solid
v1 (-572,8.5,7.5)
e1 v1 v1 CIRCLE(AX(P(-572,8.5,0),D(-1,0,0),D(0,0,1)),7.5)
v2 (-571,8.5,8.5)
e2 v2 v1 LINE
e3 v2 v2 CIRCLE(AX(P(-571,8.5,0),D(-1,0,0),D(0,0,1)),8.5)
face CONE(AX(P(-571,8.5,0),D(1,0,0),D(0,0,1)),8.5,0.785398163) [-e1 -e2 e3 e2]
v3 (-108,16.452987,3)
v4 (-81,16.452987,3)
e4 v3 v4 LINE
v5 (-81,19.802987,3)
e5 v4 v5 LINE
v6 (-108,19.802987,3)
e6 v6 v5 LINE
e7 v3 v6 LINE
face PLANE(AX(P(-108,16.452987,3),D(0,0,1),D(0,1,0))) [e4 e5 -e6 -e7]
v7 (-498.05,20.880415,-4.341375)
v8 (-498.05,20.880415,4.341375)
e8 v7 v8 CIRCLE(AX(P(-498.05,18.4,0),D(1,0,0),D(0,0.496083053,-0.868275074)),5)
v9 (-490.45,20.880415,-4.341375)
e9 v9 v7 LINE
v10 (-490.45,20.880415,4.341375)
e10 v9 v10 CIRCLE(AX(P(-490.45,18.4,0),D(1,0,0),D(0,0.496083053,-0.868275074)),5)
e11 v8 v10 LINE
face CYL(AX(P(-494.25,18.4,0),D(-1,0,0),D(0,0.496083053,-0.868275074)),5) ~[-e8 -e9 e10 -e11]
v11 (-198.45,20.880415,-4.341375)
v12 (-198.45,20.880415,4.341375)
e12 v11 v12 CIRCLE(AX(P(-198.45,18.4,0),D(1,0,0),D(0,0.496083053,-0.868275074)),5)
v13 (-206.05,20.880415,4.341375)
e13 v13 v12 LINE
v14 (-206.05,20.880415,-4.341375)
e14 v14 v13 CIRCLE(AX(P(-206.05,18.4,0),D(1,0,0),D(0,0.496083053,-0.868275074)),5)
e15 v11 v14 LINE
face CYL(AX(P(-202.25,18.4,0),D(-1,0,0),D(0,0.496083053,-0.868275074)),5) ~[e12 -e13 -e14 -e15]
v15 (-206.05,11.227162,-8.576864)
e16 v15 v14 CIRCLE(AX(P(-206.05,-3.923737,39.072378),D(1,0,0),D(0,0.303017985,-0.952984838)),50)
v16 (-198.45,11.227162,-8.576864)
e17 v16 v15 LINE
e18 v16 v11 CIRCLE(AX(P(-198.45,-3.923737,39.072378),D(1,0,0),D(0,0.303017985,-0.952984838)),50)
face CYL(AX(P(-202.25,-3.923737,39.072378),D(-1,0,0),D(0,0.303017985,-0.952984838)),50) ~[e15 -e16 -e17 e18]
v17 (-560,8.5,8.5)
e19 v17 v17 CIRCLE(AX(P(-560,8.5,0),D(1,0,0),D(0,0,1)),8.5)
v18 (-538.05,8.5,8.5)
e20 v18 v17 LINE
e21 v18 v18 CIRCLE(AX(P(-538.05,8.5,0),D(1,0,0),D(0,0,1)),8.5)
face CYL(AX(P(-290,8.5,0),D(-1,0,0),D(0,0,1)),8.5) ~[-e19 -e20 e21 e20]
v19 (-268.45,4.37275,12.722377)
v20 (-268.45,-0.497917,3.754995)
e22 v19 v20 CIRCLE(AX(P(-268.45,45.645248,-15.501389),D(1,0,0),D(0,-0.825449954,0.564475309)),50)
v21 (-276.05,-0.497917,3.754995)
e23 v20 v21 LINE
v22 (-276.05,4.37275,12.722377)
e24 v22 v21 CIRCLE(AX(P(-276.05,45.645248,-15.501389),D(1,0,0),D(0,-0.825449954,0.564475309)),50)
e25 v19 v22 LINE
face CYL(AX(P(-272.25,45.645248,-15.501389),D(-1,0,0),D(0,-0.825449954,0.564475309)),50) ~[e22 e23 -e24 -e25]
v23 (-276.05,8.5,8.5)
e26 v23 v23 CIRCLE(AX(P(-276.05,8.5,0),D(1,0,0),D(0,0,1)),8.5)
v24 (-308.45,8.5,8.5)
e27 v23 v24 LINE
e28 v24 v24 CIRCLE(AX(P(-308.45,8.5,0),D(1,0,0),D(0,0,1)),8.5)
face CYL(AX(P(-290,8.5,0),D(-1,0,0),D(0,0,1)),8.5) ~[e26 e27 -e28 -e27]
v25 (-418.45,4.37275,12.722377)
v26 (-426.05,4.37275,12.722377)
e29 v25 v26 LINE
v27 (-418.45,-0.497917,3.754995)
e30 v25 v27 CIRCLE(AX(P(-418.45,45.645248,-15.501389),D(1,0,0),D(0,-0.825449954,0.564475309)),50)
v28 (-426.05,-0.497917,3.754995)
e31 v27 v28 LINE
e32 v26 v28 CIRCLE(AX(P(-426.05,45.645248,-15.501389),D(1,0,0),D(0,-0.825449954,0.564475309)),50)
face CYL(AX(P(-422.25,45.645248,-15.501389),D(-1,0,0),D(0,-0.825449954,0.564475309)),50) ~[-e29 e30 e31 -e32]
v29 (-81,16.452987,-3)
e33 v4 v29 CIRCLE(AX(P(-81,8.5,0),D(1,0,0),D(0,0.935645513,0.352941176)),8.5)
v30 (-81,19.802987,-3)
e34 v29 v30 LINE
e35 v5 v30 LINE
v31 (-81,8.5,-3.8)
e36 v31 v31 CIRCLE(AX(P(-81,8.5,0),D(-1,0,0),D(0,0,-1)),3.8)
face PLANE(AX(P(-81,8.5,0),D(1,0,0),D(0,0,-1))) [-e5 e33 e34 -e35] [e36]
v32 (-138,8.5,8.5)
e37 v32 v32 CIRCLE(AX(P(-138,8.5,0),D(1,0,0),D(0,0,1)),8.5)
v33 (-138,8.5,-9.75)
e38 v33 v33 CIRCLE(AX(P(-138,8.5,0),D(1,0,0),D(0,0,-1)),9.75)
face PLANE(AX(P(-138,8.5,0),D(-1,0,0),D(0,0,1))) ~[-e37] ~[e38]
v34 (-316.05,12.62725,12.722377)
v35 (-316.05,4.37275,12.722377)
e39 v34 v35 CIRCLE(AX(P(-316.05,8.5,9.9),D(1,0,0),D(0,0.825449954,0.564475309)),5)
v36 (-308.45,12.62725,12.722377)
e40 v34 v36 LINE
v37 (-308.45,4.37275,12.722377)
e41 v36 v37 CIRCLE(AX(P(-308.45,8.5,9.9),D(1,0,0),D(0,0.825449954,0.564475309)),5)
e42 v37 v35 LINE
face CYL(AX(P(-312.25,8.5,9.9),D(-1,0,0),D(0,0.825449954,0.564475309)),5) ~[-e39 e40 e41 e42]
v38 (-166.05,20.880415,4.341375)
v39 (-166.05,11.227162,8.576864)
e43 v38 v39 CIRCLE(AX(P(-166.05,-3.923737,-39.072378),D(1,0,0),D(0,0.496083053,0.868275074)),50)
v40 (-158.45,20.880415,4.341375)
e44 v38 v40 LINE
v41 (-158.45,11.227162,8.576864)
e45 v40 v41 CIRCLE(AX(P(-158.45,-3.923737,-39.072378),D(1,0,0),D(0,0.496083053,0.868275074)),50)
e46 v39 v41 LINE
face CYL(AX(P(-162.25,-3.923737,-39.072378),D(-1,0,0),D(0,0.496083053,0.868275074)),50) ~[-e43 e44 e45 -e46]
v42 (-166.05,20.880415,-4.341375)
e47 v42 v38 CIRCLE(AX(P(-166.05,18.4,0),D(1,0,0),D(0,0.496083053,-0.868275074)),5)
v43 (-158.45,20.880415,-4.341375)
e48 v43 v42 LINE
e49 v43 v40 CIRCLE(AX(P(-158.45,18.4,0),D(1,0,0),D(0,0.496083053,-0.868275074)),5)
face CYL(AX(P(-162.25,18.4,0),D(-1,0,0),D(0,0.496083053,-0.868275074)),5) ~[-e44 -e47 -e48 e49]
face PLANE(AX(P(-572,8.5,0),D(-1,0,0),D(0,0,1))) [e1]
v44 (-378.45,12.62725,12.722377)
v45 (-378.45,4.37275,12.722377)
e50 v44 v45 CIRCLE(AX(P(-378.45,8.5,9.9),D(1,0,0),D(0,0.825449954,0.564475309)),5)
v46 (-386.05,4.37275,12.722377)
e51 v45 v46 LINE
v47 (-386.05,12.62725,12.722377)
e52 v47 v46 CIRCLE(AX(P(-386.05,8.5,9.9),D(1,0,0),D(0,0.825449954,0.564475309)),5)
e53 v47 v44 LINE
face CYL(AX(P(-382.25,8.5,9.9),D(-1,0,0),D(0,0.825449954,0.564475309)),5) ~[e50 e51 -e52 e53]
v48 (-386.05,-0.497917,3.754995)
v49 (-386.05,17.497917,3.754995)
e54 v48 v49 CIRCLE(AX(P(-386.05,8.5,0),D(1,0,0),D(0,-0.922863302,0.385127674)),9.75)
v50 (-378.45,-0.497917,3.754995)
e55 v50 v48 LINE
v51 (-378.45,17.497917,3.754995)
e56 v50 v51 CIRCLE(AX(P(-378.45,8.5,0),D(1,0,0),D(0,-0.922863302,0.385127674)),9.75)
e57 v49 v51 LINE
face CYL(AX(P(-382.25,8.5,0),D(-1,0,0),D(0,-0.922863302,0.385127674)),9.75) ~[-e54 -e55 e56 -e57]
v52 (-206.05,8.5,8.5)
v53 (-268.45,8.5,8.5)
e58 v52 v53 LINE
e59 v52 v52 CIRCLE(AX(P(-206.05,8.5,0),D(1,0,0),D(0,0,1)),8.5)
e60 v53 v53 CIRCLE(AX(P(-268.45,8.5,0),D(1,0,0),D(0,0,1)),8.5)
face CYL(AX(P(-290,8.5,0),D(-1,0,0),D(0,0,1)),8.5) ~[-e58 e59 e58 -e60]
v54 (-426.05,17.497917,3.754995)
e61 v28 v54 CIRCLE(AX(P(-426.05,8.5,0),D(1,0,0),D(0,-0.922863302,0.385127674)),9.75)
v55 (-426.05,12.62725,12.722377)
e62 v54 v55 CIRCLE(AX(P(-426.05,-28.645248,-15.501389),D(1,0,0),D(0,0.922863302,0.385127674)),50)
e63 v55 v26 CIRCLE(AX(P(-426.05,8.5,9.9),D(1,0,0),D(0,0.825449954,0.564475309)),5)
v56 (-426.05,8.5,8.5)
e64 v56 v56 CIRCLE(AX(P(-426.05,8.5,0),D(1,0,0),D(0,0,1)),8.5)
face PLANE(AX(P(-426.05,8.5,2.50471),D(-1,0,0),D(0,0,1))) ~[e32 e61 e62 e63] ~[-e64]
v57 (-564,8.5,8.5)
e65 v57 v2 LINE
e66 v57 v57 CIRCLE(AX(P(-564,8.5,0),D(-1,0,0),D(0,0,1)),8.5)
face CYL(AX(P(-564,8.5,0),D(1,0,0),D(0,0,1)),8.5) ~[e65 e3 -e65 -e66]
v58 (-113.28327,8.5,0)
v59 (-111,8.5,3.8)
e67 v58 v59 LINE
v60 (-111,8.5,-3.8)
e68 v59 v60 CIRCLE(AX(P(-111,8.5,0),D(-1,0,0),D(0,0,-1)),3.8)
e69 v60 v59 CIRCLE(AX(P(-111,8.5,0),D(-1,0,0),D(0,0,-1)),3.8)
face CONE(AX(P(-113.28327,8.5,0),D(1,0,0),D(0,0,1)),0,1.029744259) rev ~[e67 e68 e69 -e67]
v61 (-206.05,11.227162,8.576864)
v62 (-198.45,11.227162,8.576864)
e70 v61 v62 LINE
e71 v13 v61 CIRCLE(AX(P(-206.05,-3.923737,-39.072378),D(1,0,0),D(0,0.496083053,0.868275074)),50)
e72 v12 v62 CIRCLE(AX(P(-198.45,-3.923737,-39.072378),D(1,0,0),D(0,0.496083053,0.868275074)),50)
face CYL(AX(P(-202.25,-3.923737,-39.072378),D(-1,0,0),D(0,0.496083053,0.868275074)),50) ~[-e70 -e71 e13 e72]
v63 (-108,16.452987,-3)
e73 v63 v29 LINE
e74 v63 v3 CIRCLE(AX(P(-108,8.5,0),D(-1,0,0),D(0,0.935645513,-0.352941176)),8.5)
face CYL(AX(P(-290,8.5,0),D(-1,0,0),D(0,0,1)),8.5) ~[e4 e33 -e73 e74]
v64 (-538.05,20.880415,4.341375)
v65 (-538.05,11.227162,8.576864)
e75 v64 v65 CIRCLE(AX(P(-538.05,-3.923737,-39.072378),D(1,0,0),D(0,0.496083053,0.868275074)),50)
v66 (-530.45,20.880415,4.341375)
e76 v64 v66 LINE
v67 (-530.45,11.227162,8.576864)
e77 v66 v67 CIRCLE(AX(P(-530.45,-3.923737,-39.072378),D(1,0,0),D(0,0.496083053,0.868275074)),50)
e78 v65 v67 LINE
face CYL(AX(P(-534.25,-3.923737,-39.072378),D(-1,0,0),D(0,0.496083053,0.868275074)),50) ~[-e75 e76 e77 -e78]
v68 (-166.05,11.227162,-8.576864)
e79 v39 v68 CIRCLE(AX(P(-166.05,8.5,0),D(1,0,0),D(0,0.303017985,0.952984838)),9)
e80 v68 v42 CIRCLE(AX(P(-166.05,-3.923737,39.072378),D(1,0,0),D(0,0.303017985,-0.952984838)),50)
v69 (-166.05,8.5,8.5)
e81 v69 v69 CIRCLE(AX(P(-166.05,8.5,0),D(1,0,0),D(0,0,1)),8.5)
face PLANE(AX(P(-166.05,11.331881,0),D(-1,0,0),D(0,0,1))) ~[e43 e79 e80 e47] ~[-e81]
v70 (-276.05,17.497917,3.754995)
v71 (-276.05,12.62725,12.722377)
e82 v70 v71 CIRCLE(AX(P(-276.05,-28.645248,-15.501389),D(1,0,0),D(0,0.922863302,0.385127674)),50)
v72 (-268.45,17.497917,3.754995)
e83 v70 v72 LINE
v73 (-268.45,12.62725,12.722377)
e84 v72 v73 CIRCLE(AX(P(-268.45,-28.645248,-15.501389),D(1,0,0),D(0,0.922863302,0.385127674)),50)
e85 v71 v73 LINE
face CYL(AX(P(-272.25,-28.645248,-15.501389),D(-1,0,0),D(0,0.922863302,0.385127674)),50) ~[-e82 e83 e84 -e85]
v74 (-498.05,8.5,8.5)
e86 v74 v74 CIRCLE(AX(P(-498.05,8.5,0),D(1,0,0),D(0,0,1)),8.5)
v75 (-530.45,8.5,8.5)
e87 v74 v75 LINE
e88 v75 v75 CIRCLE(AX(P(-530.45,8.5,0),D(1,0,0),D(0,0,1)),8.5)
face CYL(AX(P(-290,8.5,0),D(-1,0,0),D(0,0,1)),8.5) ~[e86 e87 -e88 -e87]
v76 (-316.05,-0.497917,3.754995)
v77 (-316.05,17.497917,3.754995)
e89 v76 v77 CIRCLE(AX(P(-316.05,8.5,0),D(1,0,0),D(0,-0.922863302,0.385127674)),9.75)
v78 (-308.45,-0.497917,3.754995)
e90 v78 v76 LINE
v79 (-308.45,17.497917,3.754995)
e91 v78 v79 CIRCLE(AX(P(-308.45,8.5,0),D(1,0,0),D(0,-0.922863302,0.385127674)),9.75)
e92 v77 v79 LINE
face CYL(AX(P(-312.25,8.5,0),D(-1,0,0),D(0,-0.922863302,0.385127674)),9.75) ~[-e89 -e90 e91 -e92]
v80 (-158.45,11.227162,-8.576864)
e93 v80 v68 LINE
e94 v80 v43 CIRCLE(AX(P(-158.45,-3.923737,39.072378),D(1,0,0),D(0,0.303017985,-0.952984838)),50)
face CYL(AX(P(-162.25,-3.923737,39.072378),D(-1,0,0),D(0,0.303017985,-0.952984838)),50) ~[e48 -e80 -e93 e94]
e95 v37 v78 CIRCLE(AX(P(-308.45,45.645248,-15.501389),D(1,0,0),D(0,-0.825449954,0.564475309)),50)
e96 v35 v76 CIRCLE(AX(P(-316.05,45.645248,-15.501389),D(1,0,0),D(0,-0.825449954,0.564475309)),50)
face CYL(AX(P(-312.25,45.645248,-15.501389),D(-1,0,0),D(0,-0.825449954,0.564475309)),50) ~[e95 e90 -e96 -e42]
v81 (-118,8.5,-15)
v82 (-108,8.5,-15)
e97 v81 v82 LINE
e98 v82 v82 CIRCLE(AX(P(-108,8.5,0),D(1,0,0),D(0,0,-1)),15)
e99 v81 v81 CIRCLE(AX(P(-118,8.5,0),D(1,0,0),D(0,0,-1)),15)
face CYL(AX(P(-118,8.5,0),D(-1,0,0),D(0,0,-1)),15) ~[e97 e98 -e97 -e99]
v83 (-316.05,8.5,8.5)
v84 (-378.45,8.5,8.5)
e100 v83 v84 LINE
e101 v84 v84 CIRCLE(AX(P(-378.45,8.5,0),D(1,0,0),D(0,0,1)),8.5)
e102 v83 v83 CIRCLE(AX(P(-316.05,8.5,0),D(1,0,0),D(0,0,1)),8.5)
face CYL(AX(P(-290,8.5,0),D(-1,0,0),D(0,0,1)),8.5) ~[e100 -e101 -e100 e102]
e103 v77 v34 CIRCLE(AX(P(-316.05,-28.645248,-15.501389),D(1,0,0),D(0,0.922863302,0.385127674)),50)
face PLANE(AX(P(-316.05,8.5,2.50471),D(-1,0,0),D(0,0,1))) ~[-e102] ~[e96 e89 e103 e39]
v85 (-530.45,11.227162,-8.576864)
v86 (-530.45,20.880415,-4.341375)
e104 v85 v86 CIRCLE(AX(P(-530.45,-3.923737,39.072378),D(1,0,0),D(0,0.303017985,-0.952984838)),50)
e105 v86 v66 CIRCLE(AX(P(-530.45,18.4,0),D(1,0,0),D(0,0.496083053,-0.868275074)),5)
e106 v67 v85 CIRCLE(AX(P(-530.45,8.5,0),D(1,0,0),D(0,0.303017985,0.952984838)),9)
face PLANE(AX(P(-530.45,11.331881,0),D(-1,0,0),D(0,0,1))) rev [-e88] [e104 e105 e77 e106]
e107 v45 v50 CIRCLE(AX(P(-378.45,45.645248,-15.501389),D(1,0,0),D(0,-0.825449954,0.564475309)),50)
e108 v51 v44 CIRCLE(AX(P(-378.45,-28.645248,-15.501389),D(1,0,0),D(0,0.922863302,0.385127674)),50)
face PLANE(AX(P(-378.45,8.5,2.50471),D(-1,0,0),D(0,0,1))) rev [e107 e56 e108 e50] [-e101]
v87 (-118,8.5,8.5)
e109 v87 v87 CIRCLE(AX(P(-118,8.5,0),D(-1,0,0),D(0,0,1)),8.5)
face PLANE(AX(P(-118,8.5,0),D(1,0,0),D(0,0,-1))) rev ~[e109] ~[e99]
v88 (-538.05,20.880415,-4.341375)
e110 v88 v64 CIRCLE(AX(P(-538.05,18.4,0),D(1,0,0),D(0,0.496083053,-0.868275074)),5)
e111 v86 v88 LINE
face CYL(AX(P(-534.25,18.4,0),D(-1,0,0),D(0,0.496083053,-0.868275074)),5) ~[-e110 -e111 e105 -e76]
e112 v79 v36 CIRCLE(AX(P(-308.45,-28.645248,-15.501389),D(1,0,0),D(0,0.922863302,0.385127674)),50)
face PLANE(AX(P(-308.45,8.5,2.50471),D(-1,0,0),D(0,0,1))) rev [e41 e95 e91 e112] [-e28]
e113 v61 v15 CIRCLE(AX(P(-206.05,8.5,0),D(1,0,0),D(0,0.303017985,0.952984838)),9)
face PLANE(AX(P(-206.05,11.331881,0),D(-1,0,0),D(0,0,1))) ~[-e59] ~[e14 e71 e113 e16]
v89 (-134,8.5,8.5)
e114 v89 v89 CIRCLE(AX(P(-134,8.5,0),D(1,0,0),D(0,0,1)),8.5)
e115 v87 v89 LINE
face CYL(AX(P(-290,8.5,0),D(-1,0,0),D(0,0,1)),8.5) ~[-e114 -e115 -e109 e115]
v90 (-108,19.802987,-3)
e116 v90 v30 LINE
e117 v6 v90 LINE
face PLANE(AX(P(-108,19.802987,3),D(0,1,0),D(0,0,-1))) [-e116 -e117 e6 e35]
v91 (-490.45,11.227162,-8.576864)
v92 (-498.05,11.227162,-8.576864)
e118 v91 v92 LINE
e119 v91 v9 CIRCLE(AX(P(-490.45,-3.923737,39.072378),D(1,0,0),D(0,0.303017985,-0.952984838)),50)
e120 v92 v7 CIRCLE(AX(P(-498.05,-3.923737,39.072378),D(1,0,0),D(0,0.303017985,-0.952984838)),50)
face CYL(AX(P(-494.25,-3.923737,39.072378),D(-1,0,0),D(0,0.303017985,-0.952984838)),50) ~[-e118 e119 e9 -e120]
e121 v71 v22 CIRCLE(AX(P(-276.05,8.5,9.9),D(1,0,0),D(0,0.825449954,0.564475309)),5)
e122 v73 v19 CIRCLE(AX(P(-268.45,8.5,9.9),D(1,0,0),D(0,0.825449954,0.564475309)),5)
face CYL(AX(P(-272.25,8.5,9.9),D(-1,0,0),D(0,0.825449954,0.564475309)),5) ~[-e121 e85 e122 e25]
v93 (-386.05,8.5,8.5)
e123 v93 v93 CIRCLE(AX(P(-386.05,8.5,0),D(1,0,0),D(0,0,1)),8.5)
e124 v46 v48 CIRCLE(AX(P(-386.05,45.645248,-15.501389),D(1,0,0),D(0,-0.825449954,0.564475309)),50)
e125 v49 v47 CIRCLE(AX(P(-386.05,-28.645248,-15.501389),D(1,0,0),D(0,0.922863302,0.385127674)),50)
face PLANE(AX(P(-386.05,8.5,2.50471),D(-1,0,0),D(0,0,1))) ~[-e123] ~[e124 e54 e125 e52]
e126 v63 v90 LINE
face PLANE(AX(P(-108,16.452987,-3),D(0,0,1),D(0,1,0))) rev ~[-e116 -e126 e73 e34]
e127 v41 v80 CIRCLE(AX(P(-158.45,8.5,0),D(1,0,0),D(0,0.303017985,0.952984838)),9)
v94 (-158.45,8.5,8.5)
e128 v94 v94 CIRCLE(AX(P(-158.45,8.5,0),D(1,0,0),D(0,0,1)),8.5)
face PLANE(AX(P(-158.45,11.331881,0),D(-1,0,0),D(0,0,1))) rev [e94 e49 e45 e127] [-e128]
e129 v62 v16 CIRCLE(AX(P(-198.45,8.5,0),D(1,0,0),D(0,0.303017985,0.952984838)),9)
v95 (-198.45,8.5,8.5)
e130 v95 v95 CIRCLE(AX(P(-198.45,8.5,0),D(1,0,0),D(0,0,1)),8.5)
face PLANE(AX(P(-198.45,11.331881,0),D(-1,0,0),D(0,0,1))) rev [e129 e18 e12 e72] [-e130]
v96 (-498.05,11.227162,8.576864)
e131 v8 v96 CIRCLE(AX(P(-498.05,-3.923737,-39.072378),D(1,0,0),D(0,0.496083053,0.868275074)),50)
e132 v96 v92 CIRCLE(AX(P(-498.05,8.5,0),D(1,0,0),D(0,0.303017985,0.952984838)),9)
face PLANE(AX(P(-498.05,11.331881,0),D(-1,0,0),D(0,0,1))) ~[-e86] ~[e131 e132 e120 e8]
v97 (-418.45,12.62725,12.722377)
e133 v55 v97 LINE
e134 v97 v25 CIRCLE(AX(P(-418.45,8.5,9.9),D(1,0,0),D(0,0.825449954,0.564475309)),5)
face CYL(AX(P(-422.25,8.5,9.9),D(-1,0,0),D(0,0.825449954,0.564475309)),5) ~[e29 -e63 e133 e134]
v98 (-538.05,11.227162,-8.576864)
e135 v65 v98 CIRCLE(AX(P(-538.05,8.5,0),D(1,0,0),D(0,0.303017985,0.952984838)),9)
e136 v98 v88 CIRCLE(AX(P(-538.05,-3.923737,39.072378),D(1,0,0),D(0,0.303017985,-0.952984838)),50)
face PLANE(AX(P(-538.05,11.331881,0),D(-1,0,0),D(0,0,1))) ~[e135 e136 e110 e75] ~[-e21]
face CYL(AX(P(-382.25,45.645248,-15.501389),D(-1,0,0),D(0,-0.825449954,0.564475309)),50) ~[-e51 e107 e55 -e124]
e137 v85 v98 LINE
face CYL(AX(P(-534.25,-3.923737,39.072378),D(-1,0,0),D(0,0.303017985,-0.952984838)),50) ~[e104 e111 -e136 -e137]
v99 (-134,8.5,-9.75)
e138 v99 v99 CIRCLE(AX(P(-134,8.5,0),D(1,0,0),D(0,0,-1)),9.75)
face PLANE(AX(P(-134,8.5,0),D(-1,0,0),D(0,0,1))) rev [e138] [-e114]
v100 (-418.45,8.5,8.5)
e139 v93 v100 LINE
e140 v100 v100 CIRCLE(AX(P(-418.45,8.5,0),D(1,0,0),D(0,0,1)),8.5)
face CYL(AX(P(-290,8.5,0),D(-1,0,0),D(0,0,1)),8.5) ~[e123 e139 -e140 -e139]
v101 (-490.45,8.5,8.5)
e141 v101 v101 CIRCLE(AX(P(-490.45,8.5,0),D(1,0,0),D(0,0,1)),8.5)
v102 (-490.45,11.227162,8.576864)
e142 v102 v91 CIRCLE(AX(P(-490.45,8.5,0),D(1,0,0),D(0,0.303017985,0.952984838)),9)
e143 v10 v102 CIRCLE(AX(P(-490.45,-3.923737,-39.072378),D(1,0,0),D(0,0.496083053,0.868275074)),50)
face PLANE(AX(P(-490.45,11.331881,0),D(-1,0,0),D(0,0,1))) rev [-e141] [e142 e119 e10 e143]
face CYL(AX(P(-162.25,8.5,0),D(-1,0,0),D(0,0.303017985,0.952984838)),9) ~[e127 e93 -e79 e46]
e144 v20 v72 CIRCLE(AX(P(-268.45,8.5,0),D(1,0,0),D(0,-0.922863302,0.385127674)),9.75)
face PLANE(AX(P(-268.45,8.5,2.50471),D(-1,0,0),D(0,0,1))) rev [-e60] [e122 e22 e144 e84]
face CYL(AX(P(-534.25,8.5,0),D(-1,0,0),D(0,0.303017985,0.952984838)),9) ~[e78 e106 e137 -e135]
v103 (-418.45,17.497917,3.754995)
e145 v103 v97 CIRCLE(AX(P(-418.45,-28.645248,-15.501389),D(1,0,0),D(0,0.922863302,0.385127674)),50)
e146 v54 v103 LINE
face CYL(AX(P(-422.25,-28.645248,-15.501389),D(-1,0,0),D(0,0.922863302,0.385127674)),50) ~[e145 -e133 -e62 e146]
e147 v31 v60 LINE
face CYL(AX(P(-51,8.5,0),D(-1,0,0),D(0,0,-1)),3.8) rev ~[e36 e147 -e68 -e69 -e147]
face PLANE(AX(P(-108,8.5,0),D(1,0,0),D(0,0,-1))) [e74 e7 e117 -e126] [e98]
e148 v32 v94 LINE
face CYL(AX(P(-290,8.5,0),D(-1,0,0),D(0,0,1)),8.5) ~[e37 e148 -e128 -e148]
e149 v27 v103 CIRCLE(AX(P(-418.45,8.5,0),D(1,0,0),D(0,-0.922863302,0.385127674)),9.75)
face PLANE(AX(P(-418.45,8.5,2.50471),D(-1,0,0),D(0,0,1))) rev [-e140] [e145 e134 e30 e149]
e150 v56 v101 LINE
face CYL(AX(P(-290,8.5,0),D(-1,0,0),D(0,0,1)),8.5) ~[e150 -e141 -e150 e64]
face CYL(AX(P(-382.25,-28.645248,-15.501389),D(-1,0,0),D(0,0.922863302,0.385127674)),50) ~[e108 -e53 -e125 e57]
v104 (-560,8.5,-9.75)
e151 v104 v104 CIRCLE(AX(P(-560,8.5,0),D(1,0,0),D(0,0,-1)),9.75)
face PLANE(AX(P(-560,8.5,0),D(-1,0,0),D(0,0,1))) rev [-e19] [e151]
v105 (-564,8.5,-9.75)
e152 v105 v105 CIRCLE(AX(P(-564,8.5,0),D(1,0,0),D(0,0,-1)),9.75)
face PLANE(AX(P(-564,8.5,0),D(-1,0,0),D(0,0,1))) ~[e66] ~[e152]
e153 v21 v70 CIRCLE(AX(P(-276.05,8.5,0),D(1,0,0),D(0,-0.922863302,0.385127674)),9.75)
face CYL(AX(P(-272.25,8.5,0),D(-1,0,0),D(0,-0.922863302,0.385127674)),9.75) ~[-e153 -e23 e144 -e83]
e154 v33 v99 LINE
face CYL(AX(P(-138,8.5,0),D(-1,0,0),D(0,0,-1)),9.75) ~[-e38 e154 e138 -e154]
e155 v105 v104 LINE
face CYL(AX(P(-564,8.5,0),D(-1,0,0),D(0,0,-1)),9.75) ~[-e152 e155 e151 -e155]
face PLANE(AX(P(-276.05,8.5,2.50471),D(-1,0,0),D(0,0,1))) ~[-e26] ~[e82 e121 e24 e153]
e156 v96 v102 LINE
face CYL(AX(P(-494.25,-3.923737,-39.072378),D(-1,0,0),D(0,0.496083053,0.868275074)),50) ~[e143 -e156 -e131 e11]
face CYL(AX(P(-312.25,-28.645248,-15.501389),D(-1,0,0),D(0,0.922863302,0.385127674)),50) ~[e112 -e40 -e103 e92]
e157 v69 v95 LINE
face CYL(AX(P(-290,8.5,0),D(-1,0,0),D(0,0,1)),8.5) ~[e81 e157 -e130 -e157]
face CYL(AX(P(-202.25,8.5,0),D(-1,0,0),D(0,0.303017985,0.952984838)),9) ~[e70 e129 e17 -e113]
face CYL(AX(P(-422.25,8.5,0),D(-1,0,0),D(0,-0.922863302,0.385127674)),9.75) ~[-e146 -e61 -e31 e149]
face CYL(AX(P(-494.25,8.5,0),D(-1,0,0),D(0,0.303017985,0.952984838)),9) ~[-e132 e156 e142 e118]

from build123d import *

# Parameters (mm, degrees)
CROQUIS1_W                       = 580
CROQUIS1_H                       = 8.5
CROQUIS4_R                       = 9.75
SALIENTE_EXTRUIR1_DEPTH          = 4
MATRIZL1_COUNT                   = 2
MATRIZL1_PITCH                   = 442
SALIENTE_EXTRUIR3_DEPTH          = 3.8
MATRIZL2_COUNT                   = 2
MATRIZL2_PITCH                   = 40
MATRIZL3_COUNT                   = 2
MATRIZL3_PITCH                   = 332
MATRIZL3_COPY_1_DEPTH            = 3.8
CROQUIS6_R                       = 8.5
SALIENTE_EXTRUIR4_DEPTH          = 3.8
MATRIZL4_COUNT                   = 2
MATRIZL4_PITCH                   = 40
MATRIZL5_COUNT                   = 2
MATRIZL5_PITCH                   = 110
MATRIZL5_COPY_1_SKETCH_R         = 8.5
MATRIZL5_COPY_1_DEPTH            = 3.8
CROQUIS8_R                       = 10
CORTAR_EXTRUIR1_DEPTH            = 36
CROQUIS9_R                       = 9.75
SALIENTE_EXTRUIR5_DEPTH          = 4
CROQUIS10_R                      = 8.5
SALIENTE_EXTRUIR6_DEPTH          = 8
CHAFL_N1_SIZE                    = 1
SALIENTE_EXTRUIR7_DEPTH          = 5
SALIENTE_EXTRUIR7_DEPTH_BACK     = 5
CROQUIS12_R                      = 15
CROQUIS13_W                      = 6
CROQUIS13_H                      = 3.35
SALIENTE_EXTRUIR8_DEPTH          = 40
CORTAR_EXTRUIR2_START            = -81
CROQUIS15_R                      = 35.701734295
CORTAR_EXTRUIR2_DEPTH            = 81
TALADRO_DE_MARGEN_PARA_M71_D     = 7.6
TALADRO_DE_MARGEN_PARA_M71_DEPTH = 30
TALADRO_DE_MARGEN_PARA_M71_TIP   = 2.283270352


with BuildPart() as part:
    # Croquis1 → Revolución1 (revolve)
    with BuildSketch(Plane.XY, mode=Mode.PRIVATE) as revoluci_n1_sk:
        with Locations((290, 4.25)):
            Rectangle(CROQUIS1_W, CROQUIS1_H)
    revolve(revoluci_n1_sk.sketch.rotate(Axis((0, 8.5, 0), (1, 0, 0)), 270), axis=Axis((0, 8.5, 0), (1, 0, 0)))

    # Croquis4 → Saliente-Extruir1 (add)
    with BuildSketch(Plane(origin=(580, 0, 0), x_dir=(0, 0, -1), z_dir=(1, 0, 0))):
        with Locations((0, 8.5)):
            Circle(CROQUIS4_R)
    saliente_extruir1 = extrude(amount=-SALIENTE_EXTRUIR1_DEPTH)

    # MatrizL1: Saliente-Extruir1 ×2
    with Locations(*[(-i * MATRIZL1_PITCH, 0, 0) for i in range(1, MATRIZL1_COUNT)]):
        add(saliente_extruir1)

    # Croquis5 → Saliente-Extruir3 (add, symmetric)
    with BuildSketch(Plane(origin=(162.25, 0, 0), x_dir=(0, 0, -1), z_dir=(1, 0, 0))):
        with BuildLine():
            ThreePointArc((-8.57686354, 11.227161863), (0, -0.5), (8.57686354, 11.227161863))
            ThreePointArc((8.57686354, 11.227161863), (6.71423124, 16.165722115), (4.341375372, 20.880415264))
            ThreePointArc((4.341375372, 20.880415264), (0, 23.4), (-4.341375372, 20.880415264))
            ThreePointArc((-4.341375372, 20.880415264), (-6.71423124, 16.165722115), (-8.57686354, 11.227161863))
        make_face()
    saliente_extruir3 = extrude(amount=SALIENTE_EXTRUIR3_DEPTH, both=True)

    # MatrizL2: Saliente-Extruir3 ×2
    with Locations(*[(i * MATRIZL2_PITCH, 0, 0) for i in range(1, MATRIZL2_COUNT)]):
        add(saliente_extruir3)

    # MatrizL3: Saliente-Extruir3 ×2
    with Locations(*[(i * MATRIZL3_PITCH, 0, 0) for i in range(1, MATRIZL3_COUNT)]):
        add(saliente_extruir3)

    # MatrizL3 copy 1 sketch → MatrizL3 copy 1 (add, symmetric)
    with BuildSketch(Plane(origin=(534.25, 0, 0), x_dir=(0, 0, -1), z_dir=(1, 0, 0))):
        with BuildLine():
            ThreePointArc((-8.57686354, 11.227161863), (0, -0.5), (8.57686354, 11.227161863))
            ThreePointArc((8.57686354, 11.227161863), (6.71423124, 16.165722115), (4.341375372, 20.880415264))
            ThreePointArc((4.341375372, 20.880415264), (0, 23.4), (-4.341375372, 20.880415264))
            ThreePointArc((-4.341375372, 20.880415264), (-6.71423124, 16.165722115), (-8.57686354, 11.227161863))
        make_face()
    extrude(amount=MATRIZL3_COPY_1_DEPTH, both=True)

    # Croquis6 → Saliente-Extruir4 (add, symmetric)
    with BuildSketch(Plane(origin=(272.25, 0, 0), x_dir=(0, 0, -1), z_dir=(1, 0, 0))):
        with BuildLine():
            ThreePointArc((-12.722376543, 12.627249768), (-14.9, 8.5), (-12.722376543, 4.372750232))
            ThreePointArc((-12.722376543, 4.372750232), (-8.363270987, 1.70804262), (-3.754994824, -0.497917196))
            ThreePointArc((-3.754994824, -0.497917196), (9.75, 8.5), (-3.754994824, 17.497917196))
            ThreePointArc((-3.754994824, 17.497917196), (-8.363270987, 15.29195738), (-12.722376543, 12.627249768))
        make_face()
        with Locations(Location((0, 8.5, 0), (0, 0, 180))):
            Circle(CROQUIS6_R, mode=Mode.SUBTRACT)
    saliente_extruir4 = extrude(amount=SALIENTE_EXTRUIR4_DEPTH, both=True)

    # MatrizL4: Saliente-Extruir4 ×2
    with Locations(*[(i * MATRIZL4_PITCH, 0, 0) for i in range(1, MATRIZL4_COUNT)]):
        add(saliente_extruir4)

    # MatrizL5: Saliente-Extruir4 ×2
    with Locations(*[(i * MATRIZL5_PITCH, 0, 0) for i in range(1, MATRIZL5_COUNT)]):
        add(saliente_extruir4)

    # MatrizL5 copy 1 sketch → MatrizL5 copy 1 (add, symmetric)
    with BuildSketch(Plane(origin=(422.25, 0, 0), x_dir=(0, 0, -1), z_dir=(1, 0, 0))):
        with BuildLine():
            ThreePointArc((-12.722376543, 12.627249768), (-14.9, 8.5), (-12.722376543, 4.372750232))
            ThreePointArc((-12.722376543, 4.372750232), (-8.363270987, 1.70804262), (-3.754994824, -0.497917196))
            ThreePointArc((-3.754994824, -0.497917196), (9.75, 8.5), (-3.754994824, 17.497917196))
            ThreePointArc((-3.754994824, 17.497917196), (-8.363270987, 15.29195738), (-12.722376543, 12.627249768))
        make_face()
        with Locations(Location((0, 8.5, 0), (0, 0, 180))):
            Circle(MATRIZL5_COPY_1_SKETCH_R, mode=Mode.SUBTRACT)
    extrude(amount=MATRIZL5_COPY_1_DEPTH, both=True)

    # Croquis8 → Cortar-Extruir1 (cut)
    with BuildSketch(Plane(origin=(564, 0, 0), x_dir=(0, 0, -1), z_dir=(1, 0, 0))):
        with Locations((0, 8.5)):
            Circle(CROQUIS8_R)
    extrude(amount=CORTAR_EXTRUIR1_DEPTH, mode=Mode.SUBTRACT)

    # Croquis9 → Saliente-Extruir5 (add)
    with BuildSketch(Plane(origin=(564, 0, 0), x_dir=(0, 0, -1), z_dir=(1, 0, 0))):
        with Locations((0, 8.5)):
            Circle(CROQUIS9_R)
    extrude(amount=-SALIENTE_EXTRUIR5_DEPTH)


with BuildPart() as body_2:
    # Simetría1: mirrored copy
    add(part.part.mirror(Plane.ZY))

    # Croquis10 → Saliente-Extruir6 (add)
    with BuildSketch(Plane.ZY.offset(564)):
        with Locations((0, 8.5)):
            Circle(CROQUIS10_R)
    extrude(amount=SALIENTE_EXTRUIR6_DEPTH)

    # Chaflán1
    chafl_n1_edges = [body_2.edges().sort_by_distance(p)[0] for p in [
        (-572, 8.5, -8.5),
    ]]
    chamfer(chafl_n1_edges, length=CHAFL_N1_SIZE)

    # Croquis12 → Saliente-Extruir7 (add, two sides: drawn at the far end of the back side and taken through both)
    with BuildSketch(Plane(origin=(-113, 0, 0), x_dir=(0, 0, -1), z_dir=(1, 0, 0)).offset(-SALIENTE_EXTRUIR7_DEPTH_BACK)):
        with Locations((0, 8.5)):
            Circle(CROQUIS12_R)
    extrude(amount=SALIENTE_EXTRUIR7_DEPTH + SALIENTE_EXTRUIR7_DEPTH_BACK)

    # Croquis13 → Saliente-Extruir8 (add)
    with BuildSketch(Plane(origin=(-108, 0, 0), x_dir=(0, 0, -1), z_dir=(1, 0, 0))):
        with Locations((0, 18.12798686)):
            Rectangle(CROQUIS13_W, CROQUIS13_H)
    extrude(amount=SALIENTE_EXTRUIR8_DEPTH)

    # Croquis15 → Cortar-Extruir2 (cut)
    with BuildSketch(Plane(origin=(0, 0, 0), x_dir=(0, 0, -1), z_dir=(1, 0, 0)).offset(CORTAR_EXTRUIR2_START)):
        with Locations((0, 8.5)):
            Circle(CROQUIS15_R)
    extrude(amount=CORTAR_EXTRUIR2_DEPTH, mode=Mode.SUBTRACT)

    # Taladro de margen para M71
    with Locations(Plane(origin=(-81, 8.5, 0), x_dir=(0, 0, 1), z_dir=(1, 0, 0))):
        with Locations((0, 0)):
            Hole(TALADRO_DE_MARGEN_PARA_M71_D / 2, depth=TALADRO_DE_MARGEN_PARA_M71_DEPTH)
            with Locations((0, 0, -(TALADRO_DE_MARGEN_PARA_M71_DEPTH + TALADRO_DE_MARGEN_PARA_M71_TIP / 2))):  # 118° drill point
                Cone(0, TALADRO_DE_MARGEN_PARA_M71_D / 2, TALADRO_DE_MARGEN_PARA_M71_TIP, mode=Mode.SUBTRACT)


solid = body_2.part
